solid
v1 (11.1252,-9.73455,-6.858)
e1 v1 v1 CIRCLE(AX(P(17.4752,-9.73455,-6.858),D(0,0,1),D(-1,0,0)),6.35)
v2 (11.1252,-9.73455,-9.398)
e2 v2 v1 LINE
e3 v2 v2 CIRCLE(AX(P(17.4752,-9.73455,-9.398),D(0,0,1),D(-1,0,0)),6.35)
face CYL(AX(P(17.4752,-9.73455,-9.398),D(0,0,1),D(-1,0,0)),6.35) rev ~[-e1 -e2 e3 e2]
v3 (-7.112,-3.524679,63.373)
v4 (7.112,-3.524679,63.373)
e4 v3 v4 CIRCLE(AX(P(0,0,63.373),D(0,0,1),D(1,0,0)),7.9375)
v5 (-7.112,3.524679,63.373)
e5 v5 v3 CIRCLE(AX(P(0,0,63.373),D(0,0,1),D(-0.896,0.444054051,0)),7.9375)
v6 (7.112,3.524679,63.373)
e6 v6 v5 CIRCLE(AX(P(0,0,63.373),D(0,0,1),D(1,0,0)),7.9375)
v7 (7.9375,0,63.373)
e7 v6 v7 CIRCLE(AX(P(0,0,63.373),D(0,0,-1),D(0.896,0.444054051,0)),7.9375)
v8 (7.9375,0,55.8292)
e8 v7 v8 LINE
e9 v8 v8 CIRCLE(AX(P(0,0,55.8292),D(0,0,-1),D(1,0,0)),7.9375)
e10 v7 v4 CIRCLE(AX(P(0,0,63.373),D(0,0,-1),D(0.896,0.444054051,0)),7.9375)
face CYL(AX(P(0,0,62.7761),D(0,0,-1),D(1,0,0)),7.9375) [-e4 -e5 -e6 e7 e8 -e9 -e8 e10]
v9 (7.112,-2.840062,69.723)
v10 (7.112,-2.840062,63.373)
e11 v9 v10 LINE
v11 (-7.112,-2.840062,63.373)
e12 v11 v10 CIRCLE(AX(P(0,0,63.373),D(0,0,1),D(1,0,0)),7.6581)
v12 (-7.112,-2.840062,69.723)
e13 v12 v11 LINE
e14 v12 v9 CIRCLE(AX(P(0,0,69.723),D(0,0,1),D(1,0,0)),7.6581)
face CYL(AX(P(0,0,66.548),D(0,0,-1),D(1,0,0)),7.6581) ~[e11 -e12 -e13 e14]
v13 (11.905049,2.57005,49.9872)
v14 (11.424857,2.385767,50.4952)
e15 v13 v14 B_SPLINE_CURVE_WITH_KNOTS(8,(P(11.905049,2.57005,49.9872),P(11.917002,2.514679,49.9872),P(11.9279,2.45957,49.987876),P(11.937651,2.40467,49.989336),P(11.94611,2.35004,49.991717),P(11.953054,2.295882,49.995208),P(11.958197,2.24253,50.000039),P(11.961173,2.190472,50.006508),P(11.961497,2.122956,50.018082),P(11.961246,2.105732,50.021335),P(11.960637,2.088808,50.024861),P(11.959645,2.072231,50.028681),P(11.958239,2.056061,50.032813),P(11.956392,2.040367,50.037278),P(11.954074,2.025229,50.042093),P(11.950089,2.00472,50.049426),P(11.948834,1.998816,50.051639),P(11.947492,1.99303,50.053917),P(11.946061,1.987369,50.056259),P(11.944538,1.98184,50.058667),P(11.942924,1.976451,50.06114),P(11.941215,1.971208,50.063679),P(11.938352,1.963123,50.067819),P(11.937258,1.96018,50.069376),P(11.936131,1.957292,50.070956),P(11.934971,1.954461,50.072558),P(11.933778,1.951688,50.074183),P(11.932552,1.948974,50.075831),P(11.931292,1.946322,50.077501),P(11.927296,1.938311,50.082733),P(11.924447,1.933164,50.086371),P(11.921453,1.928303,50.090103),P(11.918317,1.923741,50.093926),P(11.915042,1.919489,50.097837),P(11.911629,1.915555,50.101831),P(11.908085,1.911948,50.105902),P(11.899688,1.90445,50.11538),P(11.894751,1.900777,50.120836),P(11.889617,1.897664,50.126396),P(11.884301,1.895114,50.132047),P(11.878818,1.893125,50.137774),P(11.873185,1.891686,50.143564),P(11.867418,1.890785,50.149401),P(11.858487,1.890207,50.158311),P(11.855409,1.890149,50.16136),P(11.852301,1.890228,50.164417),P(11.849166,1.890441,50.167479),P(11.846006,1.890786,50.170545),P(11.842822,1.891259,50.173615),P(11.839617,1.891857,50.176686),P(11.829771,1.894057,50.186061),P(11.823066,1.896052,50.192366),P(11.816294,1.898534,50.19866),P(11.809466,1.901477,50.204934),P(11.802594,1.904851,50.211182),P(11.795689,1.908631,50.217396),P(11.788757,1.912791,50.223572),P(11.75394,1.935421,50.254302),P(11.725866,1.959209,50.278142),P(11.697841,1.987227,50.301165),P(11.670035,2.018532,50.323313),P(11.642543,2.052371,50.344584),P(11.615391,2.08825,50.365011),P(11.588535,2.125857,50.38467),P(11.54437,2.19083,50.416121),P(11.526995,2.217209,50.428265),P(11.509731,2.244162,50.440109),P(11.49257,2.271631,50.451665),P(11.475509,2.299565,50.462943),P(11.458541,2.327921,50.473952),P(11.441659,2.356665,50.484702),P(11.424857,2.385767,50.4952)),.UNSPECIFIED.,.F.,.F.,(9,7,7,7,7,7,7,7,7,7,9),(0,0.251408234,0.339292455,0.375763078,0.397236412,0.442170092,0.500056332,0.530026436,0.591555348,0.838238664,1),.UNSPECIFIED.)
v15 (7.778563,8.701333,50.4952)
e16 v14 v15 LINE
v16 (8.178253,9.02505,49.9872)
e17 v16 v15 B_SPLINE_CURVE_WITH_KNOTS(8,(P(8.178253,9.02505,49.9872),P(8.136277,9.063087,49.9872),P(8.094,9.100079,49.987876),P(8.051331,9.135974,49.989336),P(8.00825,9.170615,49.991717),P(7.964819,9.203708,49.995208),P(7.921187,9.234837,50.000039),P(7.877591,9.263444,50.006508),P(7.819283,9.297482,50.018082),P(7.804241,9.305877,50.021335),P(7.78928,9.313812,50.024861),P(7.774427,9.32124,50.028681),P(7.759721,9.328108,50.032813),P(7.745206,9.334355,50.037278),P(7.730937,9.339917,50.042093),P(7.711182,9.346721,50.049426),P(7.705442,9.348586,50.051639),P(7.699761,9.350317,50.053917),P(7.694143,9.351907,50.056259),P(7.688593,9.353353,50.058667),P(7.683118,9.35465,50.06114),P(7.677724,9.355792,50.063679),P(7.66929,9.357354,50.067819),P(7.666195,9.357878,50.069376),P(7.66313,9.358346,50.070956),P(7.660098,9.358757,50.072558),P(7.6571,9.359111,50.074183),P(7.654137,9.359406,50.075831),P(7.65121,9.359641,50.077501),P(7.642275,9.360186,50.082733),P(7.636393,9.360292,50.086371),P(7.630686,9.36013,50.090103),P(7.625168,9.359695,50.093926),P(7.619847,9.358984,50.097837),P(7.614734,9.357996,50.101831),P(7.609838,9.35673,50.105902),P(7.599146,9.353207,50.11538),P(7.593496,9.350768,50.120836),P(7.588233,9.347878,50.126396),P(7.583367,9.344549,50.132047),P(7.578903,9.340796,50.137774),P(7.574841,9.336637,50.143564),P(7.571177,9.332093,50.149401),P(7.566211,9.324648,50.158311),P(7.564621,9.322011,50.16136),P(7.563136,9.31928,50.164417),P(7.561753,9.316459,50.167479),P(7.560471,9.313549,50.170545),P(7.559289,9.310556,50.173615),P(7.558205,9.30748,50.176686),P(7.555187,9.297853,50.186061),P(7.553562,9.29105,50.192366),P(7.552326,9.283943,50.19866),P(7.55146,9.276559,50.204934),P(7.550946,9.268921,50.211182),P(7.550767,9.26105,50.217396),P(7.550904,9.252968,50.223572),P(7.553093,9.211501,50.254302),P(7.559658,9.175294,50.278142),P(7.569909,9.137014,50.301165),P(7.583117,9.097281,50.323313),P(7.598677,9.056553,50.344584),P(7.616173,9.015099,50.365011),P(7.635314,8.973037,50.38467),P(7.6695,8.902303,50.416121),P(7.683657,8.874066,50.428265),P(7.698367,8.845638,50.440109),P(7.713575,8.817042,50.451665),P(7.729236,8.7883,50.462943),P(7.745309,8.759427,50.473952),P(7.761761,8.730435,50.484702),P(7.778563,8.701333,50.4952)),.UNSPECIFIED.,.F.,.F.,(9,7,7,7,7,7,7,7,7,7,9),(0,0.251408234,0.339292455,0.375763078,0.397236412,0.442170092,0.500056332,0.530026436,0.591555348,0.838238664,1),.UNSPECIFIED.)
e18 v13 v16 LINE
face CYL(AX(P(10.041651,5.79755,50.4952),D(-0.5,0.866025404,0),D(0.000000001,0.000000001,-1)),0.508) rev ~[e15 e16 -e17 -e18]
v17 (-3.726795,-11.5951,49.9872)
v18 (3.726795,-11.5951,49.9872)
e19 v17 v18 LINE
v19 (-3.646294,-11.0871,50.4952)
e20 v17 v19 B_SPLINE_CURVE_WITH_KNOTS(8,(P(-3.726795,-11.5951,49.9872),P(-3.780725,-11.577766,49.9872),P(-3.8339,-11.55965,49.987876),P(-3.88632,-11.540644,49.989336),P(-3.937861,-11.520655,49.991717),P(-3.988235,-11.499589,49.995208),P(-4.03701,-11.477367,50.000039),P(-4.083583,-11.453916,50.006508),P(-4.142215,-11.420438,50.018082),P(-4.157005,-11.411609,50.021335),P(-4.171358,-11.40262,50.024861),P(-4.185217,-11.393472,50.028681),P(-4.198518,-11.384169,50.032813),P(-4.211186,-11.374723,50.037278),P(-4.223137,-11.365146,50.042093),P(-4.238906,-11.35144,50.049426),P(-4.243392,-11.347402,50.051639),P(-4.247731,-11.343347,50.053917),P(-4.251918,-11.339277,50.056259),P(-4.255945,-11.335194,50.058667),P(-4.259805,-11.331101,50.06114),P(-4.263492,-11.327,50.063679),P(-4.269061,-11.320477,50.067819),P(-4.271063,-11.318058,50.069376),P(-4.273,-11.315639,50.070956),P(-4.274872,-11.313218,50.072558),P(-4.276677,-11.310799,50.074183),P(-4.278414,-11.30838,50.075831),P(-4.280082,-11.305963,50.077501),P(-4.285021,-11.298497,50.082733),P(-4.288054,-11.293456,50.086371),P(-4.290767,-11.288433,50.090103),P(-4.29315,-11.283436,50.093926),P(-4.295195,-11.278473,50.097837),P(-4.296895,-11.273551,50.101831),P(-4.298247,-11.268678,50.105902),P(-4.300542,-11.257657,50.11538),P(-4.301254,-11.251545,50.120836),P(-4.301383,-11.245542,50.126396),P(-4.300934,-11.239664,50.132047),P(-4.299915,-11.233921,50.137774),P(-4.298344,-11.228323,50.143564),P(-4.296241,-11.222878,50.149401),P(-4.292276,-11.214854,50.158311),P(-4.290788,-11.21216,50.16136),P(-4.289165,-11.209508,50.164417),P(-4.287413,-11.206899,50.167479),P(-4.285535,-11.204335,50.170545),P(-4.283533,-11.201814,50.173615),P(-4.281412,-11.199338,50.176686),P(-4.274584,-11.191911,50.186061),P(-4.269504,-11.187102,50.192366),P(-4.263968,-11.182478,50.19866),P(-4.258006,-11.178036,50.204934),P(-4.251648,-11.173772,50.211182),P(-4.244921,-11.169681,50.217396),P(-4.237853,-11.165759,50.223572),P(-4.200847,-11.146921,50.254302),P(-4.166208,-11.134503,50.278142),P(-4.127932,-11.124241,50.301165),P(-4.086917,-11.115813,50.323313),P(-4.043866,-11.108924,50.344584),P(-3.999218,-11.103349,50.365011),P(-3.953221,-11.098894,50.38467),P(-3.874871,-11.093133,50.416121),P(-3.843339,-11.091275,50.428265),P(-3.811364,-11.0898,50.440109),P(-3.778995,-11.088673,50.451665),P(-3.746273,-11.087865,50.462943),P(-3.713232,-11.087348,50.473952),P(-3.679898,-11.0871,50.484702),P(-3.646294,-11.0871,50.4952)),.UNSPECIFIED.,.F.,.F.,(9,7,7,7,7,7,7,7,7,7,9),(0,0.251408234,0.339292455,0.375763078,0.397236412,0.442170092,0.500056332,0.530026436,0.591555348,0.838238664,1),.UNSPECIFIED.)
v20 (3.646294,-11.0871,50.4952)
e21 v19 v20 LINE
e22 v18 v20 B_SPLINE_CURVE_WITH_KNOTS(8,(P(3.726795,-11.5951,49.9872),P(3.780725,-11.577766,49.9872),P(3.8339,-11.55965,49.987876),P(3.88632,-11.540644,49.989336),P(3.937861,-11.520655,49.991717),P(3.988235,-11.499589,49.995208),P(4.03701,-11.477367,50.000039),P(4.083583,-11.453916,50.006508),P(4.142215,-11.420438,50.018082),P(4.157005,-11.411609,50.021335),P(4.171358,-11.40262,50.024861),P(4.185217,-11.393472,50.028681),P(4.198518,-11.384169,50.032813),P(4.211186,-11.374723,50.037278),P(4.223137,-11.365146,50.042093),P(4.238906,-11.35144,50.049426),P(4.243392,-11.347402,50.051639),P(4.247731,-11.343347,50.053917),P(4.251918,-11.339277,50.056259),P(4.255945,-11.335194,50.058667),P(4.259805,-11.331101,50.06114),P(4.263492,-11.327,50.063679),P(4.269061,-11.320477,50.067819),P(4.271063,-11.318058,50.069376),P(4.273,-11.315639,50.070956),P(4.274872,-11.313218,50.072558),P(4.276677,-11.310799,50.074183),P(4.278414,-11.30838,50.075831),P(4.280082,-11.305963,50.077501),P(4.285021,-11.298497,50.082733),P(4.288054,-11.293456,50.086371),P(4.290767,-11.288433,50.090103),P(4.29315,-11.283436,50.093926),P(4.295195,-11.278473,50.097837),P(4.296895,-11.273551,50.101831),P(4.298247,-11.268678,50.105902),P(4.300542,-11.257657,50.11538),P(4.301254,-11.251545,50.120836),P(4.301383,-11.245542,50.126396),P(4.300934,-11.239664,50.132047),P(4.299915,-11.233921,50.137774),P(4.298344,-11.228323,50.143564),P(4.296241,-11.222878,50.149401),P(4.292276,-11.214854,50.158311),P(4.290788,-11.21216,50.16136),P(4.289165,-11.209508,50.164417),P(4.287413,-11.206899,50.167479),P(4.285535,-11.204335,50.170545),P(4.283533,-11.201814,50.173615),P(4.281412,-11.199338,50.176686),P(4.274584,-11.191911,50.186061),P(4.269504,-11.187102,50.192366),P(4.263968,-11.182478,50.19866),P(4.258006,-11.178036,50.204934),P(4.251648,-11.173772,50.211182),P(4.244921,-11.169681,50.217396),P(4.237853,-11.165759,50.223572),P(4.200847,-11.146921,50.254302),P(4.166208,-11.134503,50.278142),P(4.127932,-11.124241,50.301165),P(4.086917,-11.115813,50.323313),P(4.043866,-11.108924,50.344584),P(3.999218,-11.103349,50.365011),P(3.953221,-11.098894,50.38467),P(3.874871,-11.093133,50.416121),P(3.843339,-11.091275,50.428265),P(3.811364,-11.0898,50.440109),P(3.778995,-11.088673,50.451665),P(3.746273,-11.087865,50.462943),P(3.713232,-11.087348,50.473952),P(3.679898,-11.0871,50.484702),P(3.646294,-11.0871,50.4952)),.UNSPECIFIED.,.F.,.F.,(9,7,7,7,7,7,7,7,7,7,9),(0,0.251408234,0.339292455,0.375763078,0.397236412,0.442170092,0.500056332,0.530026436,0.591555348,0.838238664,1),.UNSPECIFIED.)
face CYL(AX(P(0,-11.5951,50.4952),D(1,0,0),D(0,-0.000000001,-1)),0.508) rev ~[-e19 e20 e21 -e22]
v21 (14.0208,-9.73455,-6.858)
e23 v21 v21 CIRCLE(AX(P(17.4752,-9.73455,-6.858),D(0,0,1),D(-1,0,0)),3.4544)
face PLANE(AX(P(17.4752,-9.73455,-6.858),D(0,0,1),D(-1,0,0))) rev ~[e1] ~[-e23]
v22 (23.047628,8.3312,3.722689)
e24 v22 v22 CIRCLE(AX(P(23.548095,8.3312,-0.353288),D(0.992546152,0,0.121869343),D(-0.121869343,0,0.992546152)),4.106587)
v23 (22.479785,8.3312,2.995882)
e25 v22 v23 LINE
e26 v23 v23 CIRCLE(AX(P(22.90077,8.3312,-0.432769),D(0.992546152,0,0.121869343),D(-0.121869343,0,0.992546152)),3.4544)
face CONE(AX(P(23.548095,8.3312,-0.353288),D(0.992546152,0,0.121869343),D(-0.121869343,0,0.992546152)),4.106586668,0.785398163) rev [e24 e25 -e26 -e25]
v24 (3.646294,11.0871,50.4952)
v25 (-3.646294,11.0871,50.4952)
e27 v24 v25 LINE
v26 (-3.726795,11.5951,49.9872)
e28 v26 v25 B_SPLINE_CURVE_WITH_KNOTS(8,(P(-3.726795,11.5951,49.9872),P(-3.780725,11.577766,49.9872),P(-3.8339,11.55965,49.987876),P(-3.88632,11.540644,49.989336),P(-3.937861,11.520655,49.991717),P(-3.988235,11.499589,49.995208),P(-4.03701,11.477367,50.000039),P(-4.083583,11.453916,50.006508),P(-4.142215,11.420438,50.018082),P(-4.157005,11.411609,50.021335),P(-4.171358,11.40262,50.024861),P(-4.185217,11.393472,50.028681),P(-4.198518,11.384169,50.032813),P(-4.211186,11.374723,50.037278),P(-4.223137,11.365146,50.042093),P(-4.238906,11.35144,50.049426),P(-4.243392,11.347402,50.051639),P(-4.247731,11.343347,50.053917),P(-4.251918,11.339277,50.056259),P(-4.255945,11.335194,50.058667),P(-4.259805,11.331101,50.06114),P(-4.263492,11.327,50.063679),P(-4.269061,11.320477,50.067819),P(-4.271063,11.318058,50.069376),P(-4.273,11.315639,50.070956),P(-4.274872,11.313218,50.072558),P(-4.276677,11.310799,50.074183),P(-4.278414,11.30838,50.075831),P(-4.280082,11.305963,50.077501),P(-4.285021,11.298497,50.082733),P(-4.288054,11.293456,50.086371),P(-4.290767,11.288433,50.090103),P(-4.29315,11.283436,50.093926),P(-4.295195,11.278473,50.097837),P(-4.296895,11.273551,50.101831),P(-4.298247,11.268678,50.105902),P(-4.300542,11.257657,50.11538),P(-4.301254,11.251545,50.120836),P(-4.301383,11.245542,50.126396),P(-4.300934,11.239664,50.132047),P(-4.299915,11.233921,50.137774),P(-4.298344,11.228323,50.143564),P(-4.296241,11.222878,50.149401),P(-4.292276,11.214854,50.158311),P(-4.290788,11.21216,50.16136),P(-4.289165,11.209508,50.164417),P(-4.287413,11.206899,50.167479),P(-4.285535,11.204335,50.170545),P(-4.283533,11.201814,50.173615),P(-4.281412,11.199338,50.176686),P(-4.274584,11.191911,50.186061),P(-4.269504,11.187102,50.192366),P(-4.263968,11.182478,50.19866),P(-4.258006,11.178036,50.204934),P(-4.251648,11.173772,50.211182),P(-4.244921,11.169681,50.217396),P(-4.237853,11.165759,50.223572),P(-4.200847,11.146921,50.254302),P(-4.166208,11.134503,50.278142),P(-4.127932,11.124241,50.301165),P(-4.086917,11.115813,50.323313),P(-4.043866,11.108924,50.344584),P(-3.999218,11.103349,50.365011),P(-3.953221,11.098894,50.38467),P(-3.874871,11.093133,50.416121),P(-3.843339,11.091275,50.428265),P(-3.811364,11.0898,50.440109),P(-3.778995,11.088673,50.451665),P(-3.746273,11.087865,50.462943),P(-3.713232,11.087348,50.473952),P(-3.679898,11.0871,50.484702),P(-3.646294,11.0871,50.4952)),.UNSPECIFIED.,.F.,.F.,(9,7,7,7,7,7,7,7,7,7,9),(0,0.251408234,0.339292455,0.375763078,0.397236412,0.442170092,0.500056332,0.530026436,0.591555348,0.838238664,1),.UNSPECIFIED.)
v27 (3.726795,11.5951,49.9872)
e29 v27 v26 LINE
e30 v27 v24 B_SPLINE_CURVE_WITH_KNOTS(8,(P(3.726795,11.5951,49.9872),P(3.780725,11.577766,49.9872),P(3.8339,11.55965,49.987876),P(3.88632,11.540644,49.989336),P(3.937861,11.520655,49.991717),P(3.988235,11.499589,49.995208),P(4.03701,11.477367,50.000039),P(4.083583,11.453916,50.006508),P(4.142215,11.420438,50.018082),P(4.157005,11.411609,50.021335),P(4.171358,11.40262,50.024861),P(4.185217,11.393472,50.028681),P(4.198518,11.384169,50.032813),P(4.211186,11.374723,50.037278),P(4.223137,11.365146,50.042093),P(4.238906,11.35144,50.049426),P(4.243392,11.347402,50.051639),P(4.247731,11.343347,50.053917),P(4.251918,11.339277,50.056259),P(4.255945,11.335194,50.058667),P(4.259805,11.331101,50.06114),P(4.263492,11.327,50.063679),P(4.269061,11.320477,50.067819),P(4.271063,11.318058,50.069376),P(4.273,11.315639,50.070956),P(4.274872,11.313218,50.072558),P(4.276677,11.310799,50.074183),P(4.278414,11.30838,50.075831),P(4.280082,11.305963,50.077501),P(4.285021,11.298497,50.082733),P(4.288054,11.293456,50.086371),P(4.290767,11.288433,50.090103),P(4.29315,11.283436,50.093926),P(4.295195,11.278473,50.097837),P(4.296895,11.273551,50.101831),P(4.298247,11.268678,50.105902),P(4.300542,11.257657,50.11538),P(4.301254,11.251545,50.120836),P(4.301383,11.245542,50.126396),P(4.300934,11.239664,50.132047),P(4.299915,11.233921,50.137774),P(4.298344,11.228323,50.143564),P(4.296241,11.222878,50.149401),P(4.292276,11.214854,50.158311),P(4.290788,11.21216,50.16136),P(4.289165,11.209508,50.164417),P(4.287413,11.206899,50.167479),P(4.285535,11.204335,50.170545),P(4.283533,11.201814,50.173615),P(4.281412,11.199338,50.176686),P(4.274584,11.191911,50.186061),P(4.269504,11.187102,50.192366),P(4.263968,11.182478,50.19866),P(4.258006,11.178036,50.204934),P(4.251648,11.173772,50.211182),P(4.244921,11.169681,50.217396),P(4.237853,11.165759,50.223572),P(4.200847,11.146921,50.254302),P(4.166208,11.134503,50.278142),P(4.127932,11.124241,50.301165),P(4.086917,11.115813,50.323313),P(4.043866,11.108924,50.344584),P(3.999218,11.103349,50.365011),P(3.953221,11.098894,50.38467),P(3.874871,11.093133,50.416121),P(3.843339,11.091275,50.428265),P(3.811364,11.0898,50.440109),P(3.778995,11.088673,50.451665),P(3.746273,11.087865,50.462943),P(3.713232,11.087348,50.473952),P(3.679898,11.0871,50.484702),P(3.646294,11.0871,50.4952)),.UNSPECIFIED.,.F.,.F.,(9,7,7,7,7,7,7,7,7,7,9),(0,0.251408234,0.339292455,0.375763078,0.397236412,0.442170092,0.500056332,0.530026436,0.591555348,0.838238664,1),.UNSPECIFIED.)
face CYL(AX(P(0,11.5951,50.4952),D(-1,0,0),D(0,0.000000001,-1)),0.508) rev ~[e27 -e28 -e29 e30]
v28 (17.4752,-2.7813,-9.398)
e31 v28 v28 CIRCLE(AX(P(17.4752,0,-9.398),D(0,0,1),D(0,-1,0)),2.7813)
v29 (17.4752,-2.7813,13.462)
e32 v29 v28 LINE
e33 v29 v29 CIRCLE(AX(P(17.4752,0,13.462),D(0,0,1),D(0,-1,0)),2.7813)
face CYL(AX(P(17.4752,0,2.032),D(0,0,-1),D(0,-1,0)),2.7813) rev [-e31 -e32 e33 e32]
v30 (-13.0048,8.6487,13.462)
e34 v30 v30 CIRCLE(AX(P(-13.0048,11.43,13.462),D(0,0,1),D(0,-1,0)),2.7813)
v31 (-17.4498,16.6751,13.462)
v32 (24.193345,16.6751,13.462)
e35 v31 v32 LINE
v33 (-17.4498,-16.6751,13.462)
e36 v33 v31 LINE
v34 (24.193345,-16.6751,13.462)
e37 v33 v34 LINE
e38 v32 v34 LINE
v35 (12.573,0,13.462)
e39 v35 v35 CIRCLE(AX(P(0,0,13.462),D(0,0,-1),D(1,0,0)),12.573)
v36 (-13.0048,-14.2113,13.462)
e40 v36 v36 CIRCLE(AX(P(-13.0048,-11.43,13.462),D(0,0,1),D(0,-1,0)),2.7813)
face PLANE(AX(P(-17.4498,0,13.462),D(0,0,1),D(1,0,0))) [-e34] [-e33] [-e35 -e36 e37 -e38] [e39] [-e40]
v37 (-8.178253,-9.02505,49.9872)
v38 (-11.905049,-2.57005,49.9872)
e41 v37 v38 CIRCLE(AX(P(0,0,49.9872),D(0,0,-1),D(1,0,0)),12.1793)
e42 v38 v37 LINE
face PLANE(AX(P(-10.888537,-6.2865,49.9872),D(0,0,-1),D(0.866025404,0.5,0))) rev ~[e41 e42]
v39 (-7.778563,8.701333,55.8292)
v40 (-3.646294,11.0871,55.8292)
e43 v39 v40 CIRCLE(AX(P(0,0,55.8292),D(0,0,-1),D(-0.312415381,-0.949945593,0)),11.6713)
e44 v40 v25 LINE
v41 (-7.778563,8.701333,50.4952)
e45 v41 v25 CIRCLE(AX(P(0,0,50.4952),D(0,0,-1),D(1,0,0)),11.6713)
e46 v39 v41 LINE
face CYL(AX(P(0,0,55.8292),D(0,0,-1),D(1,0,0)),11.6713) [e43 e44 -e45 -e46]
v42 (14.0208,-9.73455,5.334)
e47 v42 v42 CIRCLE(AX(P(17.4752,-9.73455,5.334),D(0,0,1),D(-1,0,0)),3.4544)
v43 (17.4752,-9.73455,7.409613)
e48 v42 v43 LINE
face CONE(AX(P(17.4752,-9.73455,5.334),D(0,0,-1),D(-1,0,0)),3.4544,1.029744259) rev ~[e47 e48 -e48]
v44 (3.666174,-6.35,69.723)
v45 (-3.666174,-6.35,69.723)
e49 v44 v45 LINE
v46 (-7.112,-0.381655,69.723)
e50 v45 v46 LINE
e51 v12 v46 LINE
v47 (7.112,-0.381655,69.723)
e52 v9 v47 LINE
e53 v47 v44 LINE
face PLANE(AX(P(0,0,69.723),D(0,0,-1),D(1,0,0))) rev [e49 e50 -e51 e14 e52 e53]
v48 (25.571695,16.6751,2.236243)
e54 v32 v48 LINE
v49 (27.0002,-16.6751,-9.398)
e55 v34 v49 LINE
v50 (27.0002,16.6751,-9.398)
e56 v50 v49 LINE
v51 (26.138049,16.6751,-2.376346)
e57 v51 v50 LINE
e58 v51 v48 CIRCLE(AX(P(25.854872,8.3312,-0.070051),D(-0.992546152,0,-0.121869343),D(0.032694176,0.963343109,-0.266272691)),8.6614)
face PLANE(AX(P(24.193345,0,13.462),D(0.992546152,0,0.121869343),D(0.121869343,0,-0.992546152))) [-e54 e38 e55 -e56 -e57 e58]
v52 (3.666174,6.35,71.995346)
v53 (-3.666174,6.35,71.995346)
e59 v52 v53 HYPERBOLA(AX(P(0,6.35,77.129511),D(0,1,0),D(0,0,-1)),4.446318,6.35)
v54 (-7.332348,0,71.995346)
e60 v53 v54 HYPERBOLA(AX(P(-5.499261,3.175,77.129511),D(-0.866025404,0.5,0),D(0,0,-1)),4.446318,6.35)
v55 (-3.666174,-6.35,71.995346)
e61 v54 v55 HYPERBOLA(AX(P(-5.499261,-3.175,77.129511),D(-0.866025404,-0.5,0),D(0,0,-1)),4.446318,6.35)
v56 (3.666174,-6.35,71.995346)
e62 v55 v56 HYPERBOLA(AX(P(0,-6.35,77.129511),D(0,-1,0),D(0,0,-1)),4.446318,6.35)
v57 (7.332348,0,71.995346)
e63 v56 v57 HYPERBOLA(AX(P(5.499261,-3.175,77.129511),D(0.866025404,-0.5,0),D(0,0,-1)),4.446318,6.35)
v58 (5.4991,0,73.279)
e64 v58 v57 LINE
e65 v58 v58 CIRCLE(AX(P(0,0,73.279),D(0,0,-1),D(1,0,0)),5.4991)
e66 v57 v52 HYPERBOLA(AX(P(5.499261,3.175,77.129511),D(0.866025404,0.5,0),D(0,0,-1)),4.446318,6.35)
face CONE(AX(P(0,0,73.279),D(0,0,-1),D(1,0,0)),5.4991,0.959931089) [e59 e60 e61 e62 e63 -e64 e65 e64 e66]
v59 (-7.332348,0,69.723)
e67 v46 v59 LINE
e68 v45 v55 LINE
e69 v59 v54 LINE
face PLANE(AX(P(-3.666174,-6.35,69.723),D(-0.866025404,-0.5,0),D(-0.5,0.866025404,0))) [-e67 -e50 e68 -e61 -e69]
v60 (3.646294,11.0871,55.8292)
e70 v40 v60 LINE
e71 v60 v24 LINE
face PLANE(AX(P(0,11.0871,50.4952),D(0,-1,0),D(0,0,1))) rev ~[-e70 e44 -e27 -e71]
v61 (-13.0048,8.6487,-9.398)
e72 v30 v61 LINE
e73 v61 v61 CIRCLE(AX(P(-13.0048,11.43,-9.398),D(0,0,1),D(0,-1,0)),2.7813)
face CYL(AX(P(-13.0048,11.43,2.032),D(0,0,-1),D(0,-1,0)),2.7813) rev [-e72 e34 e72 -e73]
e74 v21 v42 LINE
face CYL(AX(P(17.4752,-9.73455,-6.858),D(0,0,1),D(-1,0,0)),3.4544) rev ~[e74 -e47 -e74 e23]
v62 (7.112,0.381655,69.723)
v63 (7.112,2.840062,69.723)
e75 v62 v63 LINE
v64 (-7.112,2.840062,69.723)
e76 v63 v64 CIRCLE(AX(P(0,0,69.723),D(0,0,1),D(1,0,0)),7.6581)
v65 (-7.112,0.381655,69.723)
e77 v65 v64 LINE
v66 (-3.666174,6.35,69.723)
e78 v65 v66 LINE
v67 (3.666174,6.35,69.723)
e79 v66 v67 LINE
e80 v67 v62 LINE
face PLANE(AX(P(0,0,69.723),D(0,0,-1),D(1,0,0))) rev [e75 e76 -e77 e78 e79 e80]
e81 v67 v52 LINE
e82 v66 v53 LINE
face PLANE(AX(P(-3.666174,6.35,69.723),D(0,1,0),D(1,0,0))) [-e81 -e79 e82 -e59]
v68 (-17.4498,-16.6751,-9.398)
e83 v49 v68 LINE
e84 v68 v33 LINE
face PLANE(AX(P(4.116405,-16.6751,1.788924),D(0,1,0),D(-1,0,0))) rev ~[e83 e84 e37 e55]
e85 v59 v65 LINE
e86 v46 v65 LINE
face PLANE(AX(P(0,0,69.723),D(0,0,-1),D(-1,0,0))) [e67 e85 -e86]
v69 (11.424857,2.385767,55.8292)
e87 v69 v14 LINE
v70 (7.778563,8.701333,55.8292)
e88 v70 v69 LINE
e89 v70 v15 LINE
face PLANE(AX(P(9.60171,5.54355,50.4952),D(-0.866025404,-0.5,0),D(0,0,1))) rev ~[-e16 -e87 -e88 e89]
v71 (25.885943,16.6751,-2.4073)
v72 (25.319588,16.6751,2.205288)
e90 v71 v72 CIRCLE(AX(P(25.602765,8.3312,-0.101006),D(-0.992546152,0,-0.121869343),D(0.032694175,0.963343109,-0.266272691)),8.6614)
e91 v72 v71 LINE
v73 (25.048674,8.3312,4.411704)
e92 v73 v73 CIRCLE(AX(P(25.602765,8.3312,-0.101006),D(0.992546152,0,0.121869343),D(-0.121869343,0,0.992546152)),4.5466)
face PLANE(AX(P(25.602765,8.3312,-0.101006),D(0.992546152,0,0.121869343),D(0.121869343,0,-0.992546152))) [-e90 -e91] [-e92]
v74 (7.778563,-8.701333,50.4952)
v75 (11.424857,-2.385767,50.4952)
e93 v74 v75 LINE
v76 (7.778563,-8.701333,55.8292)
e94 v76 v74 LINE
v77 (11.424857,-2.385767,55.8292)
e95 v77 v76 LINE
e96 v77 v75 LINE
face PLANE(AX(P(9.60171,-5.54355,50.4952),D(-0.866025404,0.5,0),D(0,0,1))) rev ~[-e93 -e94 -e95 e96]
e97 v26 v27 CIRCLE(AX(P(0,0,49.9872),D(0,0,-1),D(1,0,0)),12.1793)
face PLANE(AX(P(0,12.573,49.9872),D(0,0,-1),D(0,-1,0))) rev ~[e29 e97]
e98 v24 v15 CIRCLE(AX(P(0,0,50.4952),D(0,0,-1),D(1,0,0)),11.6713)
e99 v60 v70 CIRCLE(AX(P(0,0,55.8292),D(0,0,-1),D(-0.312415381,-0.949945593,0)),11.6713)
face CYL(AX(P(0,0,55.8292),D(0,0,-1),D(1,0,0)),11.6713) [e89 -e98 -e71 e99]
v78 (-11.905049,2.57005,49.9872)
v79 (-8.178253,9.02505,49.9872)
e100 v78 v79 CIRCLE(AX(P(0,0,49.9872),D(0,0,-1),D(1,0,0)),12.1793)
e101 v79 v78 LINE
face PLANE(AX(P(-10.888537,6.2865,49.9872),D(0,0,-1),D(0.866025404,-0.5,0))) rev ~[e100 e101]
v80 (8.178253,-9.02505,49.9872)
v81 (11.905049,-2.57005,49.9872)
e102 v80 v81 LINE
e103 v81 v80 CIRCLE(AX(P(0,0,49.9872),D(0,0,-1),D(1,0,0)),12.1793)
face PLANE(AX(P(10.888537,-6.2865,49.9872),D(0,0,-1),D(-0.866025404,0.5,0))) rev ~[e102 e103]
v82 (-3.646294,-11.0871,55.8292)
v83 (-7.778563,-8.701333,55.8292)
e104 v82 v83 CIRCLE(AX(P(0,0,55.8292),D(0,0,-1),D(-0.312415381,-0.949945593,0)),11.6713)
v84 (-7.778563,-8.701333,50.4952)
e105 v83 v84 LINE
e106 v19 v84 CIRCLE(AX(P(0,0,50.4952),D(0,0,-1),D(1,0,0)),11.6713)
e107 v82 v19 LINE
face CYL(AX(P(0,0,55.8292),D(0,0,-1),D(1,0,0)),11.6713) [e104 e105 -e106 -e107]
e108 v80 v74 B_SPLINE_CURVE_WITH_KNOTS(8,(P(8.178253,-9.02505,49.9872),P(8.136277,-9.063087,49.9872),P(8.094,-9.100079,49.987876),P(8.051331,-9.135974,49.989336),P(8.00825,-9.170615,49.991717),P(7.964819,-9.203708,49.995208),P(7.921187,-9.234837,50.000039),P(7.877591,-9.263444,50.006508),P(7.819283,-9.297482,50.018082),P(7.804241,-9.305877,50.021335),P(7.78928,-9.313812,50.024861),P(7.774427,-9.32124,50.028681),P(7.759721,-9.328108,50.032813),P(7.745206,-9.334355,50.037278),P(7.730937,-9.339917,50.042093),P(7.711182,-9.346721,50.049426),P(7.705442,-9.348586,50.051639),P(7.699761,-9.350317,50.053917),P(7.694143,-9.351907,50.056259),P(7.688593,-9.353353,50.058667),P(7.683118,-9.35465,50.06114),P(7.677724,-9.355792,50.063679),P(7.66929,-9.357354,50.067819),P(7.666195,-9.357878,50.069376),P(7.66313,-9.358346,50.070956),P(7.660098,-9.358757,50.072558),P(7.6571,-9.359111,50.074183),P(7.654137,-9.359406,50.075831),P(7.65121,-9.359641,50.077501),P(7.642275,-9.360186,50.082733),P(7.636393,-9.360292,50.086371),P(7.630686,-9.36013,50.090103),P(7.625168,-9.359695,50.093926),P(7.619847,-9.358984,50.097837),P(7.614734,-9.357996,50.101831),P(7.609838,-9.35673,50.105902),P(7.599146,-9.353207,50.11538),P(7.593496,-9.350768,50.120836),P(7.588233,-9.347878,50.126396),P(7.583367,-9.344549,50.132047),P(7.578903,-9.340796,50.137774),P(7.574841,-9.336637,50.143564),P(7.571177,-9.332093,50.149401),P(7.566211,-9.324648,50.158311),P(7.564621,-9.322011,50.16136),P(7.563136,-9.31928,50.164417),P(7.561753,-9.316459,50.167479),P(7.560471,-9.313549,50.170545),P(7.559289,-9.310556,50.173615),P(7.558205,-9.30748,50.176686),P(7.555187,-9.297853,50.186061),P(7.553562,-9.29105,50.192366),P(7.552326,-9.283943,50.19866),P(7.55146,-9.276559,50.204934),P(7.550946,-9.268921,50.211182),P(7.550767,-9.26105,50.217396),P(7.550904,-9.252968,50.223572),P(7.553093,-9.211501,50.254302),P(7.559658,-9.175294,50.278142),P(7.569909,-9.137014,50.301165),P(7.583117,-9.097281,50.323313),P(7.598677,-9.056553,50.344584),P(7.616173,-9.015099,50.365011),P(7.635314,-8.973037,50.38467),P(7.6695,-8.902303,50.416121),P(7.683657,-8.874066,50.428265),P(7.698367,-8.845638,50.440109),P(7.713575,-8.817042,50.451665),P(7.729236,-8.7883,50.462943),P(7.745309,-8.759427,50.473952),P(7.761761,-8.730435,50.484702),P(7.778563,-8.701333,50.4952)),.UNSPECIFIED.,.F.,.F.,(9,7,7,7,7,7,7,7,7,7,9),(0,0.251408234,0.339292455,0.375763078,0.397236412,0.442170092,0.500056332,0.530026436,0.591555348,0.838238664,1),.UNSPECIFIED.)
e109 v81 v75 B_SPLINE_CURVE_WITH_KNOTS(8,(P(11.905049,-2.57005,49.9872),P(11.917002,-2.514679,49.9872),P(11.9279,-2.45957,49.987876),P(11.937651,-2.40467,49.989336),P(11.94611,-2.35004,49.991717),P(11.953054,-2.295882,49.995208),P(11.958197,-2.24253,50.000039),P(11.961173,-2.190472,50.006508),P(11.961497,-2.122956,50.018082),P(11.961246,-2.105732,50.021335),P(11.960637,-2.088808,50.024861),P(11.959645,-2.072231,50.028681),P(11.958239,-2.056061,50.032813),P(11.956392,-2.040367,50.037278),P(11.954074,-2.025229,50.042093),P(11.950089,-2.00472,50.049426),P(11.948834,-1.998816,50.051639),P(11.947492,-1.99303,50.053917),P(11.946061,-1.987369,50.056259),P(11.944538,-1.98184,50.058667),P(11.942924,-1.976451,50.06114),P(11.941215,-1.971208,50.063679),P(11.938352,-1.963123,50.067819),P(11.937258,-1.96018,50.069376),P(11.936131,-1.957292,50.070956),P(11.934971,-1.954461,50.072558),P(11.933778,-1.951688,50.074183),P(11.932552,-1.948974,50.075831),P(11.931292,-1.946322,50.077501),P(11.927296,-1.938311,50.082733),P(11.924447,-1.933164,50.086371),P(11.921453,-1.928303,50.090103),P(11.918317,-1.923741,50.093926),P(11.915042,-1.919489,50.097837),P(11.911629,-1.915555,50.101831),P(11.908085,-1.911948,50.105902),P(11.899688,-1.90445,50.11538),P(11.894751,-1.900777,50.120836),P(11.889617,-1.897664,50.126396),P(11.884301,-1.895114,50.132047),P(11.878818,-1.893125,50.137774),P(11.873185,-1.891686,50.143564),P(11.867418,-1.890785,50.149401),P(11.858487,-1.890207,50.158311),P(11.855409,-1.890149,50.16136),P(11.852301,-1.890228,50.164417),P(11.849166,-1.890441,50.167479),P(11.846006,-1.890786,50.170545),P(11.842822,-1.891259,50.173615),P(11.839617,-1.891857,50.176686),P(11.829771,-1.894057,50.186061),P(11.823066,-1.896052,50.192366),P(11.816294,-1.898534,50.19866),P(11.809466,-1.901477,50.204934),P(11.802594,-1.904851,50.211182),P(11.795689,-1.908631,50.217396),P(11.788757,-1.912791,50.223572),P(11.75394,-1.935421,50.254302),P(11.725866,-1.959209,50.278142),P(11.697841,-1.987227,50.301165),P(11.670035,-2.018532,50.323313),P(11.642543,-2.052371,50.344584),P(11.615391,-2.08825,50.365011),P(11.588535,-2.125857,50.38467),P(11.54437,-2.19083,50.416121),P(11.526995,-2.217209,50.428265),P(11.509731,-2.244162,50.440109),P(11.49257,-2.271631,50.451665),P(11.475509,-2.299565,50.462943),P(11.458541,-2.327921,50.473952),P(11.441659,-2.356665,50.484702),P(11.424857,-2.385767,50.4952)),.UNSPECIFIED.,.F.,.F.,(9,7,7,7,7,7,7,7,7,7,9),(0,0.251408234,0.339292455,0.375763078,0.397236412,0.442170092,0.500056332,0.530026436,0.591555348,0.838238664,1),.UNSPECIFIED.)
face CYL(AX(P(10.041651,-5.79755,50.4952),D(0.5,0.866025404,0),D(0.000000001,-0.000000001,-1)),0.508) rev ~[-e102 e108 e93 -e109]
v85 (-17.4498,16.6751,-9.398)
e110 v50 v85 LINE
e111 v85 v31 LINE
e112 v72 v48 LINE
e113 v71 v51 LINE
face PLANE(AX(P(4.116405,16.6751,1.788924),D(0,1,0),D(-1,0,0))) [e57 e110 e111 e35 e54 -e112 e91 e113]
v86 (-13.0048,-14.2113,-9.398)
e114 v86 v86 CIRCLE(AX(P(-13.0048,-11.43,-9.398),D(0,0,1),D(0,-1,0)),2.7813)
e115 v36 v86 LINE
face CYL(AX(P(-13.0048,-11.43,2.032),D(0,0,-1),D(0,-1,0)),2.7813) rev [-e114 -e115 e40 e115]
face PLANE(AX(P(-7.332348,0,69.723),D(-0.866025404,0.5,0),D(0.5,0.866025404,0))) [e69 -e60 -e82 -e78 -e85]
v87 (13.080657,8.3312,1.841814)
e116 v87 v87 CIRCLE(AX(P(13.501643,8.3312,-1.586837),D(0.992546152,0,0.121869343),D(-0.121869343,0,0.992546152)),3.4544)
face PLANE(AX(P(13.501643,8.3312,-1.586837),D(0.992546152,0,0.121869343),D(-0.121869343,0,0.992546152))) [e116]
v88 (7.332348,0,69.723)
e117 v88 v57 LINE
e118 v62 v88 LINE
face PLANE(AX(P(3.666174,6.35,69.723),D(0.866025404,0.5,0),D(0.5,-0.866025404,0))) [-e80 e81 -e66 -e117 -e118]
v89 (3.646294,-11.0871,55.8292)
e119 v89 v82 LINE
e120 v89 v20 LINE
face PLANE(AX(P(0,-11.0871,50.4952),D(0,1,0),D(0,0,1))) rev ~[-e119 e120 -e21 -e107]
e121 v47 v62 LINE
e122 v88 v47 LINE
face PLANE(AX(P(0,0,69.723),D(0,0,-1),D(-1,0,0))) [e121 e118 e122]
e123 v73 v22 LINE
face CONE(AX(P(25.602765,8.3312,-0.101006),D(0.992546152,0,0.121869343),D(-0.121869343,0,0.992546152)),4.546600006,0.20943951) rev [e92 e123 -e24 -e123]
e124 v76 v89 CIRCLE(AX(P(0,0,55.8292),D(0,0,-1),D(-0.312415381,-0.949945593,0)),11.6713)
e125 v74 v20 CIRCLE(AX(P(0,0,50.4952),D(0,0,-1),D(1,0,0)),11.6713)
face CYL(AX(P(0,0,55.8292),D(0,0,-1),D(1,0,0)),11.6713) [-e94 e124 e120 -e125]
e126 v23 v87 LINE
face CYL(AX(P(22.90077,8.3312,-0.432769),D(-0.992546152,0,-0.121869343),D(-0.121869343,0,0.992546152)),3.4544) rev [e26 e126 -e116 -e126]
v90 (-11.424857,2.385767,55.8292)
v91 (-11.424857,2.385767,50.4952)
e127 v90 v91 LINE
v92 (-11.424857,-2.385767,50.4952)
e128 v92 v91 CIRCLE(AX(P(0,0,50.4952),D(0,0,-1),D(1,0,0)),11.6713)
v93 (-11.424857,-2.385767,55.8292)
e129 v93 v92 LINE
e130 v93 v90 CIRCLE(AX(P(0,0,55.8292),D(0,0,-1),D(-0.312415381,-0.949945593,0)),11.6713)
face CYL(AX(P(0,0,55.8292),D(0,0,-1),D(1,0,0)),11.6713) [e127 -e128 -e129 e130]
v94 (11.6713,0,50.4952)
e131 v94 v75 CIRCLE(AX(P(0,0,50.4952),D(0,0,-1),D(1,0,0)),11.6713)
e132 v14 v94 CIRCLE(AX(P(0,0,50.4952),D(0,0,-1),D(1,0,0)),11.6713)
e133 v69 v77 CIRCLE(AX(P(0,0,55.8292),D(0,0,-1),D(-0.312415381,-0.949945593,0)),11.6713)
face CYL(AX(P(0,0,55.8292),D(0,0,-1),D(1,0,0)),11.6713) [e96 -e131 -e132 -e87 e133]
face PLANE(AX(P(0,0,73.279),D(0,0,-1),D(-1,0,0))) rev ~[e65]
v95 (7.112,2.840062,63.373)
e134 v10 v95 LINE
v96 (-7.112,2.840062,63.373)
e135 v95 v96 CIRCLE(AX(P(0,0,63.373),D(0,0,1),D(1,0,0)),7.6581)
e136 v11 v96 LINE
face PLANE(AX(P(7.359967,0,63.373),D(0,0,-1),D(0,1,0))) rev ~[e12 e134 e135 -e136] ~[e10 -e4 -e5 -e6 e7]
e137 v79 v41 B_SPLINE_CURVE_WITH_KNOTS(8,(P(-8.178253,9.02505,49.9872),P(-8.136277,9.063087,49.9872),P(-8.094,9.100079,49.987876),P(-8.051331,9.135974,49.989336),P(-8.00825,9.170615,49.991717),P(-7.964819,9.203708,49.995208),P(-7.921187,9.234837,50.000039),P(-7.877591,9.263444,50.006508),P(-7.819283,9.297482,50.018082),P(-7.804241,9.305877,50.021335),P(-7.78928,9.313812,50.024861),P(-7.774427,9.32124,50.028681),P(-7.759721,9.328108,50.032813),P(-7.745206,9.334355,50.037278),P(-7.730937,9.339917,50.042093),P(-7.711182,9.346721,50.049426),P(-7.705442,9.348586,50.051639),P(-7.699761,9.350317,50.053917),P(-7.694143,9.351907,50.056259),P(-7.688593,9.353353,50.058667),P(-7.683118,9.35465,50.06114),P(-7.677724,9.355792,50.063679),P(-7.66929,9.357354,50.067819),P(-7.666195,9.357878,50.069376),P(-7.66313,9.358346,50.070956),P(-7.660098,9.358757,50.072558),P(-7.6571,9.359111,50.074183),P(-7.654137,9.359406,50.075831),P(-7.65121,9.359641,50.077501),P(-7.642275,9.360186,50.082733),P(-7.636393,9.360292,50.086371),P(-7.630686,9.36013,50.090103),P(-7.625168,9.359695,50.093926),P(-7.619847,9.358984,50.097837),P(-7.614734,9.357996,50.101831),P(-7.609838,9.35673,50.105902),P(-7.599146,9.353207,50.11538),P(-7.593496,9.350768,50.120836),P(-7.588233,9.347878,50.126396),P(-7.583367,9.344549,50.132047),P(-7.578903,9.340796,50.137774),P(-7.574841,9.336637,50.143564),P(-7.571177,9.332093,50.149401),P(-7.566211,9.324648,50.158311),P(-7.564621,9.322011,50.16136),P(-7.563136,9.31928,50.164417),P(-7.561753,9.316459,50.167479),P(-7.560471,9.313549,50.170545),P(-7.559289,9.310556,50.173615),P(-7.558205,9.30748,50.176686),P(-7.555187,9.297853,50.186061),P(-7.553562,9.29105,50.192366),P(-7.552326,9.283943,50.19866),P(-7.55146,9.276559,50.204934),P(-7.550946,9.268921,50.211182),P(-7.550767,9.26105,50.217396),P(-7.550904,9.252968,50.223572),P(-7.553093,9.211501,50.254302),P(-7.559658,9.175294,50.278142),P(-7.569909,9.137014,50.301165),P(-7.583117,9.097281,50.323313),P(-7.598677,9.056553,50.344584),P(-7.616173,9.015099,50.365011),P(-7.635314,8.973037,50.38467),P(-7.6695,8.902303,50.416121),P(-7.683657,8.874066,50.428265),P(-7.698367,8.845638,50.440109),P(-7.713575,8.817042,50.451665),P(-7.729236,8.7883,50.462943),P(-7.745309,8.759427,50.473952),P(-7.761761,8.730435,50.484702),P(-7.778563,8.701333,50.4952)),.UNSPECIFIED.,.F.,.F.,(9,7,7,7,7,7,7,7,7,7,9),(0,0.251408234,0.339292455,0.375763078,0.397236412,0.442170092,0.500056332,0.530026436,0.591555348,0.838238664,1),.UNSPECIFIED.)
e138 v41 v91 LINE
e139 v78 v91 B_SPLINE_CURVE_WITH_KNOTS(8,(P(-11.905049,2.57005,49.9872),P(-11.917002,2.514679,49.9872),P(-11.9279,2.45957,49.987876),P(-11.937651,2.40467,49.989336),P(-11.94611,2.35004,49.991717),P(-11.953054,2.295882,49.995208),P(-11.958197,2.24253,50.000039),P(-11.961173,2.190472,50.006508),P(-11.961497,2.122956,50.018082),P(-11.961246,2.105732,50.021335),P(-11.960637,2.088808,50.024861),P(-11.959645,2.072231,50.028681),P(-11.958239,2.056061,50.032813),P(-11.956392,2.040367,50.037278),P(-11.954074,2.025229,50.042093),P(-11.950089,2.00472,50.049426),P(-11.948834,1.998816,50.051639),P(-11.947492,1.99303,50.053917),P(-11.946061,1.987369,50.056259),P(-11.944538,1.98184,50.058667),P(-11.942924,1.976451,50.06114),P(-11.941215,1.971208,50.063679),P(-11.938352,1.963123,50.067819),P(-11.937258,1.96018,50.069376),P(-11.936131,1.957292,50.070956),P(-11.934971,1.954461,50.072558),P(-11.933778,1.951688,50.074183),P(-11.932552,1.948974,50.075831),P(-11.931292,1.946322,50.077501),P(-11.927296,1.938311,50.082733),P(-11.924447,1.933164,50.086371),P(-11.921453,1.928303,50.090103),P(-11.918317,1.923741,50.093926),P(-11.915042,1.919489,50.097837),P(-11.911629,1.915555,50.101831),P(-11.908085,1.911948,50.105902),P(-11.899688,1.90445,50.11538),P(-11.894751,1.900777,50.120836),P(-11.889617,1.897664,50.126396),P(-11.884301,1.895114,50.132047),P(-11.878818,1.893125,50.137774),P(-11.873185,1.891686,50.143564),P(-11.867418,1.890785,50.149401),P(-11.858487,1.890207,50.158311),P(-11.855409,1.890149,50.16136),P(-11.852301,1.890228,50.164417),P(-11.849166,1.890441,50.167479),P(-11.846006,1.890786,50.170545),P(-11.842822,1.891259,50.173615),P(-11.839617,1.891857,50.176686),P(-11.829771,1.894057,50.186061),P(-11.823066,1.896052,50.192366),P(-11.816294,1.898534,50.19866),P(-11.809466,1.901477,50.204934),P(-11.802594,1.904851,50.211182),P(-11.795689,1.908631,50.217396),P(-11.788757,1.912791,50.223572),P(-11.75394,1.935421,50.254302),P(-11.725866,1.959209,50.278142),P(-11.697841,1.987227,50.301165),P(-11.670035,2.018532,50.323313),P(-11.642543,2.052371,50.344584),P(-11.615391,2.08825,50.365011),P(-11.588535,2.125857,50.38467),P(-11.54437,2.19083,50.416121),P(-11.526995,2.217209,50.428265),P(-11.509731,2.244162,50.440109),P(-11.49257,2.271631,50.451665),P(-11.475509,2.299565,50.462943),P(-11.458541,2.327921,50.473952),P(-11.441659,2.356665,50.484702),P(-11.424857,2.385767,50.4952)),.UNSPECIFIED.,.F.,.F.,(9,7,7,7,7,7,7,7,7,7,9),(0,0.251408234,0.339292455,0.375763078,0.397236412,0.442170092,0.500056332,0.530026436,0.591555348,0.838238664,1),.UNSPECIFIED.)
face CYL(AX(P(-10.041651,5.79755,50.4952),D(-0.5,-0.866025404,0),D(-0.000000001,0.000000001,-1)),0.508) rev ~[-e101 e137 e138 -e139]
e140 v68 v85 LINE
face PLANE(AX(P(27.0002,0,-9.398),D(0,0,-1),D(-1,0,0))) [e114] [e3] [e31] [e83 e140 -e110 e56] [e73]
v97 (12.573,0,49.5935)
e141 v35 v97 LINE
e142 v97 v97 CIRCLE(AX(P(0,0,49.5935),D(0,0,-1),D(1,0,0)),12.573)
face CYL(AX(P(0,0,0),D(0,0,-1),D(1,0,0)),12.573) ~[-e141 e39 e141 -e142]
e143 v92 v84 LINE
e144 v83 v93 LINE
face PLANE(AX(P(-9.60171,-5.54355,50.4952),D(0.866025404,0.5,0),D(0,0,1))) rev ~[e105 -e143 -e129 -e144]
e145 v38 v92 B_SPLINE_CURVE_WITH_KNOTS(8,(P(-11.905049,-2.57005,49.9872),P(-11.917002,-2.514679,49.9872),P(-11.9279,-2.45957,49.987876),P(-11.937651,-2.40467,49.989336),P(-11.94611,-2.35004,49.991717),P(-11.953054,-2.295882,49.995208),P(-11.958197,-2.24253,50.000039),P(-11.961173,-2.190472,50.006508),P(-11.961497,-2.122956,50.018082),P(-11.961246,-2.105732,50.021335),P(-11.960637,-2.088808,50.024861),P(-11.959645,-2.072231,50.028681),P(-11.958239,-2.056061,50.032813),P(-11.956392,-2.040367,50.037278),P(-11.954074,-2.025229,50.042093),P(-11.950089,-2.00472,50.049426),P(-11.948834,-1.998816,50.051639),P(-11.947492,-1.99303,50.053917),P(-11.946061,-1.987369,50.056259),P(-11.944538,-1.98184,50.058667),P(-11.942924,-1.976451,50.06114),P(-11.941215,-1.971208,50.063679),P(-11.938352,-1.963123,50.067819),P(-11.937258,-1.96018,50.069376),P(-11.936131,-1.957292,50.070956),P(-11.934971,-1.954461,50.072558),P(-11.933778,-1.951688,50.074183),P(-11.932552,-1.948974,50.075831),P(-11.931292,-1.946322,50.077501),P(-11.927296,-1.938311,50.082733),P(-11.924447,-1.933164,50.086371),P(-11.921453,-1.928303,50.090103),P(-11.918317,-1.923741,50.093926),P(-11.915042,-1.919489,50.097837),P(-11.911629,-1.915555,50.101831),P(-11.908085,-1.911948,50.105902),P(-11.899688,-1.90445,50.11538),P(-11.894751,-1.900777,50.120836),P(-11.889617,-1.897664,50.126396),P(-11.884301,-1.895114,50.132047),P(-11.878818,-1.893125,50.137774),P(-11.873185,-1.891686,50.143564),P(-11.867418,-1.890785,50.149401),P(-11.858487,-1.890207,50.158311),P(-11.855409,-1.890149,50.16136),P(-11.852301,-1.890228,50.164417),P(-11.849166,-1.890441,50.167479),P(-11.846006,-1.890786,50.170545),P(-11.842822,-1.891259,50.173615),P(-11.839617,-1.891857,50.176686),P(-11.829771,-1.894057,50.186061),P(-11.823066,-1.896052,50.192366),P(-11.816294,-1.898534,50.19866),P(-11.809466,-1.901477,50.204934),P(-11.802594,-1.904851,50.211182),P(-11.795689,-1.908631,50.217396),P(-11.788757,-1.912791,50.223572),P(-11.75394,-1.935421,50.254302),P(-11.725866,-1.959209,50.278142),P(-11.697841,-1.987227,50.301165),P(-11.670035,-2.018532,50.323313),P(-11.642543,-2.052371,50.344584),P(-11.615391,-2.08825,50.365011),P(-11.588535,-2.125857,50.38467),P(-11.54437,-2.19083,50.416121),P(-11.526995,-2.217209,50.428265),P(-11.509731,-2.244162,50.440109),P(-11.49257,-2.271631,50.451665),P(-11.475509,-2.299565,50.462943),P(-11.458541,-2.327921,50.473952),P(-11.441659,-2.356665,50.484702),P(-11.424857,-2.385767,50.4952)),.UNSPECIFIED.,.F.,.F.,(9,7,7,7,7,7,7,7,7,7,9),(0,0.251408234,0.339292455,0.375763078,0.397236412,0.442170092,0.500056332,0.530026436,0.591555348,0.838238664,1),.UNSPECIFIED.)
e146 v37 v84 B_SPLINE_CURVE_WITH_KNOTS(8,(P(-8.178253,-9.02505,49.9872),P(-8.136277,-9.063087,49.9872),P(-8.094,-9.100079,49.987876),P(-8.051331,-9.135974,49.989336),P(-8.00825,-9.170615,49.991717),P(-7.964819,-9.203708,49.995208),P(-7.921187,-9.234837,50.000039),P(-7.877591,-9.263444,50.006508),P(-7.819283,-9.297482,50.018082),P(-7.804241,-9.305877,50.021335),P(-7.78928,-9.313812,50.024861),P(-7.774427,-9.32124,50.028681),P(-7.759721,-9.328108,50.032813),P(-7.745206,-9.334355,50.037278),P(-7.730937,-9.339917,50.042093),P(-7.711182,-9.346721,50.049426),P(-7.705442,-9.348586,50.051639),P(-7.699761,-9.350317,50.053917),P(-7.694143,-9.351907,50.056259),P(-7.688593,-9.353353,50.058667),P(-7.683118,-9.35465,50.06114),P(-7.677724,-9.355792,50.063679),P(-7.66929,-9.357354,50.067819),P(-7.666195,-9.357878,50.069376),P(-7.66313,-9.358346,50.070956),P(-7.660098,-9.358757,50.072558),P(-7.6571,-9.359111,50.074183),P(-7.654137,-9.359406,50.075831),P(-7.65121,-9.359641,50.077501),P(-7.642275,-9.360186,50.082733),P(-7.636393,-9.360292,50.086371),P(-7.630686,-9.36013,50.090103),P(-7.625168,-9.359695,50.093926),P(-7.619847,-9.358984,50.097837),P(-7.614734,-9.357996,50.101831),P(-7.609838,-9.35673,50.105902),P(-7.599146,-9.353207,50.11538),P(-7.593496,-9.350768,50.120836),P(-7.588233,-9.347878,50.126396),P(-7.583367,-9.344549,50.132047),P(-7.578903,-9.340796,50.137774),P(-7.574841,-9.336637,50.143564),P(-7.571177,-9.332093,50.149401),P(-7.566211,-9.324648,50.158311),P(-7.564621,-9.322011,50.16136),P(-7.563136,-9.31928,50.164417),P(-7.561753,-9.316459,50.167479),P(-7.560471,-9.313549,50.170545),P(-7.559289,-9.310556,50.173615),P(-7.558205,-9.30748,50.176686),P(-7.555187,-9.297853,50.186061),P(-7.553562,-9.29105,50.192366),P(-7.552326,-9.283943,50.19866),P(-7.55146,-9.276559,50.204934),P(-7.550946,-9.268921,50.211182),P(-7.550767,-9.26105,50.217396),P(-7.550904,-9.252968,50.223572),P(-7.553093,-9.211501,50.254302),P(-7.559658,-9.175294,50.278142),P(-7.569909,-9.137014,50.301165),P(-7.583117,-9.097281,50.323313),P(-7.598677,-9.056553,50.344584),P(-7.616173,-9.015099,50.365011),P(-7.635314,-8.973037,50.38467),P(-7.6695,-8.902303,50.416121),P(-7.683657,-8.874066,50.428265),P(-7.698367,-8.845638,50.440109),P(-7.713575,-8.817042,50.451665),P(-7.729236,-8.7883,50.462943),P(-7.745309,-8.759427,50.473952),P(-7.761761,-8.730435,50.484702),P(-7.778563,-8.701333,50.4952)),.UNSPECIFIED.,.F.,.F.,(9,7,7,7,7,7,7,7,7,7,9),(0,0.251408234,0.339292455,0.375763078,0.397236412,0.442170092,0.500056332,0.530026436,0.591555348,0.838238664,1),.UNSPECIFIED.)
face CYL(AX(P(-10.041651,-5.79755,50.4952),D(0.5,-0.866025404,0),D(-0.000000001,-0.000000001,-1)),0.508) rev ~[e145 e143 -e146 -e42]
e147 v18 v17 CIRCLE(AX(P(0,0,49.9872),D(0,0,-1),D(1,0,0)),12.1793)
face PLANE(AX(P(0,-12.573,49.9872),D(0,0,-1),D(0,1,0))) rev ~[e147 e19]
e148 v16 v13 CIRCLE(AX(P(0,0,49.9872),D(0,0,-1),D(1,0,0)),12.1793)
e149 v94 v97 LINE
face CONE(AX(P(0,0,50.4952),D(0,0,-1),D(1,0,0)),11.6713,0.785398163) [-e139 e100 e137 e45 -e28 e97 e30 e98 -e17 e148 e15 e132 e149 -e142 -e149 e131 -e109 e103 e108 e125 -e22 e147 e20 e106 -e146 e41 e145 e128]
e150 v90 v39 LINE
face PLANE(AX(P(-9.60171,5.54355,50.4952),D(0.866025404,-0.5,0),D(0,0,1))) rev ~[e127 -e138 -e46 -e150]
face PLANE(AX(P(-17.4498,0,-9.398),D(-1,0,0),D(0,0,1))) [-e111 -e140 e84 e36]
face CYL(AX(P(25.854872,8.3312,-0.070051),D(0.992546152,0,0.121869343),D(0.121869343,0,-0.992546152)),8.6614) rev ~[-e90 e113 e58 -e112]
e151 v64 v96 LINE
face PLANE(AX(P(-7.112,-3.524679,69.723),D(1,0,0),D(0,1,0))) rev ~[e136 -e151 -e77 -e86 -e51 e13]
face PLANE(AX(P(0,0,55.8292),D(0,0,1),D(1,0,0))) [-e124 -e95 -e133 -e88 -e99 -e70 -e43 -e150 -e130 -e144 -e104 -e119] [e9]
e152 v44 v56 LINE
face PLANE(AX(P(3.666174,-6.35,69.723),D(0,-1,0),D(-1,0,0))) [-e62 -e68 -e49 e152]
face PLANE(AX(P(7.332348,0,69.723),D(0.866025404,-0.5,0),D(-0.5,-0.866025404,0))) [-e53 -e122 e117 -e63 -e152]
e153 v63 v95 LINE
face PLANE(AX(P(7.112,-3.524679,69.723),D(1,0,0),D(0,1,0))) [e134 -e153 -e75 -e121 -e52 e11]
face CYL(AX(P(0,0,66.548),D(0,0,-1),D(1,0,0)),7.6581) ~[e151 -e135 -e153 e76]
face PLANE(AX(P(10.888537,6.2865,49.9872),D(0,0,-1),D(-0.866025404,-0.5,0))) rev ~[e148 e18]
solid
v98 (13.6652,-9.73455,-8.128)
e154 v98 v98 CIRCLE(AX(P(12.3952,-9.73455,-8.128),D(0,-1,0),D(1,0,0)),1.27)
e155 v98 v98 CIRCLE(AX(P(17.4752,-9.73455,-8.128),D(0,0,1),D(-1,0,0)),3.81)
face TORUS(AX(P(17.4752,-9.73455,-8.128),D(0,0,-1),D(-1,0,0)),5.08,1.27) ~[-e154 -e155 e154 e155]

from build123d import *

# Parameters (mm, degrees)
SKETCH1_R           = 12.573
EXTRUDE1_DEPTH      = 55.8292
CUT_EXTRUDE1_DEPTH  = 15.0876
SKETCH12_W          = 13.8938
SKETCH12_H          = 7.9375
CUT_EXTRUDE10_DEPTH = 6.35
EXTRUDE2_DEPTH      = 3.556
EXTRUDE3_DEPTH      = 16.6751
EXTRUDE3_DEPTH_BACK = 16.6751
SKETCH19_R          = 8.6614
CUT_EXTRUDE11_DEPTH = 0.254
SKETCH22_R          = 1.27
CIRPATTERN2_COUNT   = 6
SKETCH23_W          = 2.7813
SKETCH23_H          = 22.86
HOLE1_AT_2_COUNT    = 2
HOLE1_AT_2_PITCH    = 32.55265427
HOLE1_AT_3_COUNT    = 2
HOLE1_AT_3_PITCH    = 22.86
SKETCH27_W          = 6.35
SKETCH27_H          = 0.2794


with BuildPart() as part:
    # Sketch1 → Extrude1 (new body)
    with BuildSketch(Plane.XY):
        Circle(SKETCH1_R)
    extrude(amount=EXTRUDE1_DEPTH)

    # Sketch2 → Cut-Extrude1 (cut, symmetric)
    with BuildSketch(Plane(origin=(0, 0, 0), x_dir=(0, 0, 1), z_dir=(1, 0, 0))):
        with BuildLine():
            Line((49.9872, 12.573), (49.9872, 11.5951))
            ThreePointArc((49.9872, 11.5951), (50.135989755, 11.235889755), (50.4952, 11.0871))
            Line((50.4952, 11.0871), (55.8292, 11.0871))
            Line((55.8292, 11.0871), (55.8292, 12.573))
            Line((55.8292, 12.573), (49.9872, 12.573))
        make_face()
    cut_extrude1 = extrude(amount=CUT_EXTRUDE1_DEPTH, both=True, mode=Mode.SUBTRACT)

    # Sketch10 → Cut-Revolve1 (revolve, cut)
    with BuildSketch(Plane(origin=(0, 0, 0), x_dir=(0, 0, -1), z_dir=(1, 0, 0)), mode=Mode.PRIVATE) as cut_revolve1_sk:
        Polygon((-55.8292, 11.6713), (-50.4952, 11.6713), (-49.5935, 12.573), (-55.8292, 12.573), align=None)
    revolve(cut_revolve1_sk.sketch.rotate(Axis((0, 0, 42.932985), (0, 0, -1)), 90), axis=Axis((0, 0, 42.932985), (0, 0, -1)), mode=Mode.SUBTRACT)  # turned: the seam where the file's is

    # Sketch12 → Revolve1 (revolve)
    with BuildSketch(Plane(origin=(0, 0, 0), x_dir=(0, 0, -1), z_dir=(1, 0, 0)), mode=Mode.PRIVATE) as revolve1_sk:
        with Locations((-62.7761, 3.96875)):
            Rectangle(SKETCH12_W, SKETCH12_H)
    revolve(revolve1_sk.sketch.rotate(Axis((0, 0, 54.27599), (0, 0, -1)), 90), axis=Axis((0, 0, 54.27599), (0, 0, -1)))  # turned: the seam where the file's is

    # Sketch15 → Cut-Extrude10 (cut)
    with BuildSketch(Plane.YX.offset(-69.723)):
        with BuildLine():
            Line((-3.524679028, 7.112), (3.524679028, 7.112))
            ThreePointArc((3.524679028, 7.112), (0, 7.9375), (-3.524679028, 7.112))
        make_face()
        with BuildLine():
            Line((-3.524679028, -7.112), (3.524679028, -7.112))
            ThreePointArc((3.524679028, -7.112), (0, -7.9375), (-3.524679028, -7.112))
        make_face()
    extrude(amount=CUT_EXTRUDE10_DEPTH, mode=Mode.SUBTRACT)

    # Sketch16 → Extrude2 (add)
    with BuildSketch(Plane.XY.offset(69.723)):
        Polygon((-3.666174209, 6.35), (3.666174209, 6.35), (7.332348419, 0), (3.666174209, -6.35), (-3.666174209, -6.35), (-7.332348419, 0), align=None)
    extrude(amount=EXTRUDE2_DEPTH)

    # Sketch17 → Cut-Revolve4 (revolve, cut)
    with BuildSketch(Plane(origin=(0, 0, 0), x_dir=(1, 0, 0), z_dir=(0, 1, 0))):
        Polygon((5.4991, -73.279), (7.332348419, -71.995345638), (7.332348419, -73.279), align=None)
    revolve(axis=Axis((0, 0, 57.341182718), (0, 0, -1)), mode=Mode.SUBTRACT)

    # Sketch18 → Extrude3 (add, two sides)
    with BuildSketch(Plane(origin=(0, 0, 0), x_dir=(-1, 0, 0), z_dir=(0, 1, 0))) as extrude3_sk:
        Polygon((-27.0002, -9.398), (17.4498, -9.398), (17.4498, 13.462), (-24.193344938, 13.462), align=None)
    extrude(amount=EXTRUDE3_DEPTH)
    extrude(extrude3_sk.sketch, amount=-EXTRUDE3_DEPTH_BACK)

    # Sketch19 → Cut-Extrude11 (cut)
    with BuildSketch(Plane(origin=(25.462398347, 0, 3.126389401), x_dir=(0.121869343, 0, -0.992546152), z_dir=(0.992546152, 0, 0.121869343))):
        with Locations((3.220445379, 8.3312)):
            Circle(SKETCH19_R)
    extrude(amount=-CUT_EXTRUDE11_DEPTH, mode=Mode.SUBTRACT)

    # S2D0001 → Cut-Revolve5 (revolve, cut)
    with BuildSketch(Plane(origin=(25.602765188, 8.3312, -0.10100608), x_dir=(-0.121869343, 0, 0.992546152), z_dir=(0, 1, 0))):
        Polygon((0, 0), (4.5466, 0), (4.106586662, -2.0701), (3.4544, -2.722286662), (3.4544, -12.192), (0, -12.192), align=None)
    revolve(axis=Axis((12.896586373, 8.3312, -1.661128667), (0.992546152, 0, 0.121869343)), mode=Mode.SUBTRACT)

    # Sketch21 → Cut-Revolve6 (revolve, cut)
    with BuildSketch(Plane(origin=(17.4752, -9.73455, -8.356503206), x_dir=(-1, 0, 0), z_dir=(0, 1, 0))):
        Polygon((0, -1.041496794), (6.35, -1.041496794), (6.35, 1.498503206), (3.4544, 1.498503206), (3.4544, 13.690503206), (0, 15.766116128), align=None)
    revolve(axis=Axis((17.4752, -9.73455, -10.238380646), (0, 0, 1)), mode=Mode.SUBTRACT)

    # CirPattern2: Cut-Extrude1 ×6 about axis
    cirpattern2_axis = Axis((0, 0, 0), (0, 0, 1))
    for i in range(1, CIRPATTERN2_COUNT):
        add(cut_extrude1.rotate(cirpattern2_axis, i * 360 / CIRPATTERN2_COUNT), mode=Mode.SUBTRACT)

    # Sketch23 → Hole1 (revolve, cut)
    with BuildSketch(Plane(origin=(-13.0048, -11.43, 13.462), x_dir=(0, -1, 0), z_dir=(1, 0, 0))):
        with Locations((1.39065, 11.43)):
            Rectangle(SKETCH23_W, SKETCH23_H)
    hole1 = revolve(axis=Axis((-13.0048, -11.43, -96.538), (0, 0, 1)), mode=Mode.SUBTRACT)

    # Hole1 at 2: Hole1 ×2
    with Locations(*[Vector(0.936329178, 0.351123442, 0) * (i * HOLE1_AT_2_PITCH) for i in range(1, HOLE1_AT_2_COUNT)]):
        add(hole1, mode=Mode.SUBTRACT)

    # Hole1 at 3: Hole1 ×2
    with Locations(*[(0, i * HOLE1_AT_3_PITCH, 0) for i in range(1, HOLE1_AT_3_COUNT)]):
        add(hole1, mode=Mode.SUBTRACT)

    # Sketch27 → Cut-Revolve7 (revolve, cut)
    with BuildSketch(Plane(origin=(0, 0, 0), x_dir=(0, 0, -1), z_dir=(1, 0, 0)), mode=Mode.PRIVATE) as cut_revolve7_sk:
        with Locations((-66.548, 7.7978)):
            Rectangle(SKETCH27_W, SKETCH27_H)
    revolve(cut_revolve7_sk.sketch.rotate(Axis((0, 0, -9.398), (0, 0, 1)), 270), axis=Axis((0, 0, -9.398), (0, 0, 1)), mode=Mode.SUBTRACT)  # turned: the seam where the file's is


with BuildPart() as body_2:
    # Sketch22 → Revolve2 (revolve)
    with BuildSketch(Plane(origin=(17.4752, -9.73455, -8.356503206), x_dir=(-1, 0, 0), z_dir=(0, 1, 0)), mode=Mode.PRIVATE) as revolve2_sk:
        with Locations((-5.08, 0.228503206)):
            Circle(SKETCH22_R)
    revolve(revolve2_sk.sketch.rotate(Axis((17.4752, -9.73455, -9.525), (0, 0, 1)), 180), axis=Axis((17.4752, -9.73455, -9.525), (0, 0, 1)))  # turned: the seam where the file's is


solid = Compound([part.part, body_2.part])
